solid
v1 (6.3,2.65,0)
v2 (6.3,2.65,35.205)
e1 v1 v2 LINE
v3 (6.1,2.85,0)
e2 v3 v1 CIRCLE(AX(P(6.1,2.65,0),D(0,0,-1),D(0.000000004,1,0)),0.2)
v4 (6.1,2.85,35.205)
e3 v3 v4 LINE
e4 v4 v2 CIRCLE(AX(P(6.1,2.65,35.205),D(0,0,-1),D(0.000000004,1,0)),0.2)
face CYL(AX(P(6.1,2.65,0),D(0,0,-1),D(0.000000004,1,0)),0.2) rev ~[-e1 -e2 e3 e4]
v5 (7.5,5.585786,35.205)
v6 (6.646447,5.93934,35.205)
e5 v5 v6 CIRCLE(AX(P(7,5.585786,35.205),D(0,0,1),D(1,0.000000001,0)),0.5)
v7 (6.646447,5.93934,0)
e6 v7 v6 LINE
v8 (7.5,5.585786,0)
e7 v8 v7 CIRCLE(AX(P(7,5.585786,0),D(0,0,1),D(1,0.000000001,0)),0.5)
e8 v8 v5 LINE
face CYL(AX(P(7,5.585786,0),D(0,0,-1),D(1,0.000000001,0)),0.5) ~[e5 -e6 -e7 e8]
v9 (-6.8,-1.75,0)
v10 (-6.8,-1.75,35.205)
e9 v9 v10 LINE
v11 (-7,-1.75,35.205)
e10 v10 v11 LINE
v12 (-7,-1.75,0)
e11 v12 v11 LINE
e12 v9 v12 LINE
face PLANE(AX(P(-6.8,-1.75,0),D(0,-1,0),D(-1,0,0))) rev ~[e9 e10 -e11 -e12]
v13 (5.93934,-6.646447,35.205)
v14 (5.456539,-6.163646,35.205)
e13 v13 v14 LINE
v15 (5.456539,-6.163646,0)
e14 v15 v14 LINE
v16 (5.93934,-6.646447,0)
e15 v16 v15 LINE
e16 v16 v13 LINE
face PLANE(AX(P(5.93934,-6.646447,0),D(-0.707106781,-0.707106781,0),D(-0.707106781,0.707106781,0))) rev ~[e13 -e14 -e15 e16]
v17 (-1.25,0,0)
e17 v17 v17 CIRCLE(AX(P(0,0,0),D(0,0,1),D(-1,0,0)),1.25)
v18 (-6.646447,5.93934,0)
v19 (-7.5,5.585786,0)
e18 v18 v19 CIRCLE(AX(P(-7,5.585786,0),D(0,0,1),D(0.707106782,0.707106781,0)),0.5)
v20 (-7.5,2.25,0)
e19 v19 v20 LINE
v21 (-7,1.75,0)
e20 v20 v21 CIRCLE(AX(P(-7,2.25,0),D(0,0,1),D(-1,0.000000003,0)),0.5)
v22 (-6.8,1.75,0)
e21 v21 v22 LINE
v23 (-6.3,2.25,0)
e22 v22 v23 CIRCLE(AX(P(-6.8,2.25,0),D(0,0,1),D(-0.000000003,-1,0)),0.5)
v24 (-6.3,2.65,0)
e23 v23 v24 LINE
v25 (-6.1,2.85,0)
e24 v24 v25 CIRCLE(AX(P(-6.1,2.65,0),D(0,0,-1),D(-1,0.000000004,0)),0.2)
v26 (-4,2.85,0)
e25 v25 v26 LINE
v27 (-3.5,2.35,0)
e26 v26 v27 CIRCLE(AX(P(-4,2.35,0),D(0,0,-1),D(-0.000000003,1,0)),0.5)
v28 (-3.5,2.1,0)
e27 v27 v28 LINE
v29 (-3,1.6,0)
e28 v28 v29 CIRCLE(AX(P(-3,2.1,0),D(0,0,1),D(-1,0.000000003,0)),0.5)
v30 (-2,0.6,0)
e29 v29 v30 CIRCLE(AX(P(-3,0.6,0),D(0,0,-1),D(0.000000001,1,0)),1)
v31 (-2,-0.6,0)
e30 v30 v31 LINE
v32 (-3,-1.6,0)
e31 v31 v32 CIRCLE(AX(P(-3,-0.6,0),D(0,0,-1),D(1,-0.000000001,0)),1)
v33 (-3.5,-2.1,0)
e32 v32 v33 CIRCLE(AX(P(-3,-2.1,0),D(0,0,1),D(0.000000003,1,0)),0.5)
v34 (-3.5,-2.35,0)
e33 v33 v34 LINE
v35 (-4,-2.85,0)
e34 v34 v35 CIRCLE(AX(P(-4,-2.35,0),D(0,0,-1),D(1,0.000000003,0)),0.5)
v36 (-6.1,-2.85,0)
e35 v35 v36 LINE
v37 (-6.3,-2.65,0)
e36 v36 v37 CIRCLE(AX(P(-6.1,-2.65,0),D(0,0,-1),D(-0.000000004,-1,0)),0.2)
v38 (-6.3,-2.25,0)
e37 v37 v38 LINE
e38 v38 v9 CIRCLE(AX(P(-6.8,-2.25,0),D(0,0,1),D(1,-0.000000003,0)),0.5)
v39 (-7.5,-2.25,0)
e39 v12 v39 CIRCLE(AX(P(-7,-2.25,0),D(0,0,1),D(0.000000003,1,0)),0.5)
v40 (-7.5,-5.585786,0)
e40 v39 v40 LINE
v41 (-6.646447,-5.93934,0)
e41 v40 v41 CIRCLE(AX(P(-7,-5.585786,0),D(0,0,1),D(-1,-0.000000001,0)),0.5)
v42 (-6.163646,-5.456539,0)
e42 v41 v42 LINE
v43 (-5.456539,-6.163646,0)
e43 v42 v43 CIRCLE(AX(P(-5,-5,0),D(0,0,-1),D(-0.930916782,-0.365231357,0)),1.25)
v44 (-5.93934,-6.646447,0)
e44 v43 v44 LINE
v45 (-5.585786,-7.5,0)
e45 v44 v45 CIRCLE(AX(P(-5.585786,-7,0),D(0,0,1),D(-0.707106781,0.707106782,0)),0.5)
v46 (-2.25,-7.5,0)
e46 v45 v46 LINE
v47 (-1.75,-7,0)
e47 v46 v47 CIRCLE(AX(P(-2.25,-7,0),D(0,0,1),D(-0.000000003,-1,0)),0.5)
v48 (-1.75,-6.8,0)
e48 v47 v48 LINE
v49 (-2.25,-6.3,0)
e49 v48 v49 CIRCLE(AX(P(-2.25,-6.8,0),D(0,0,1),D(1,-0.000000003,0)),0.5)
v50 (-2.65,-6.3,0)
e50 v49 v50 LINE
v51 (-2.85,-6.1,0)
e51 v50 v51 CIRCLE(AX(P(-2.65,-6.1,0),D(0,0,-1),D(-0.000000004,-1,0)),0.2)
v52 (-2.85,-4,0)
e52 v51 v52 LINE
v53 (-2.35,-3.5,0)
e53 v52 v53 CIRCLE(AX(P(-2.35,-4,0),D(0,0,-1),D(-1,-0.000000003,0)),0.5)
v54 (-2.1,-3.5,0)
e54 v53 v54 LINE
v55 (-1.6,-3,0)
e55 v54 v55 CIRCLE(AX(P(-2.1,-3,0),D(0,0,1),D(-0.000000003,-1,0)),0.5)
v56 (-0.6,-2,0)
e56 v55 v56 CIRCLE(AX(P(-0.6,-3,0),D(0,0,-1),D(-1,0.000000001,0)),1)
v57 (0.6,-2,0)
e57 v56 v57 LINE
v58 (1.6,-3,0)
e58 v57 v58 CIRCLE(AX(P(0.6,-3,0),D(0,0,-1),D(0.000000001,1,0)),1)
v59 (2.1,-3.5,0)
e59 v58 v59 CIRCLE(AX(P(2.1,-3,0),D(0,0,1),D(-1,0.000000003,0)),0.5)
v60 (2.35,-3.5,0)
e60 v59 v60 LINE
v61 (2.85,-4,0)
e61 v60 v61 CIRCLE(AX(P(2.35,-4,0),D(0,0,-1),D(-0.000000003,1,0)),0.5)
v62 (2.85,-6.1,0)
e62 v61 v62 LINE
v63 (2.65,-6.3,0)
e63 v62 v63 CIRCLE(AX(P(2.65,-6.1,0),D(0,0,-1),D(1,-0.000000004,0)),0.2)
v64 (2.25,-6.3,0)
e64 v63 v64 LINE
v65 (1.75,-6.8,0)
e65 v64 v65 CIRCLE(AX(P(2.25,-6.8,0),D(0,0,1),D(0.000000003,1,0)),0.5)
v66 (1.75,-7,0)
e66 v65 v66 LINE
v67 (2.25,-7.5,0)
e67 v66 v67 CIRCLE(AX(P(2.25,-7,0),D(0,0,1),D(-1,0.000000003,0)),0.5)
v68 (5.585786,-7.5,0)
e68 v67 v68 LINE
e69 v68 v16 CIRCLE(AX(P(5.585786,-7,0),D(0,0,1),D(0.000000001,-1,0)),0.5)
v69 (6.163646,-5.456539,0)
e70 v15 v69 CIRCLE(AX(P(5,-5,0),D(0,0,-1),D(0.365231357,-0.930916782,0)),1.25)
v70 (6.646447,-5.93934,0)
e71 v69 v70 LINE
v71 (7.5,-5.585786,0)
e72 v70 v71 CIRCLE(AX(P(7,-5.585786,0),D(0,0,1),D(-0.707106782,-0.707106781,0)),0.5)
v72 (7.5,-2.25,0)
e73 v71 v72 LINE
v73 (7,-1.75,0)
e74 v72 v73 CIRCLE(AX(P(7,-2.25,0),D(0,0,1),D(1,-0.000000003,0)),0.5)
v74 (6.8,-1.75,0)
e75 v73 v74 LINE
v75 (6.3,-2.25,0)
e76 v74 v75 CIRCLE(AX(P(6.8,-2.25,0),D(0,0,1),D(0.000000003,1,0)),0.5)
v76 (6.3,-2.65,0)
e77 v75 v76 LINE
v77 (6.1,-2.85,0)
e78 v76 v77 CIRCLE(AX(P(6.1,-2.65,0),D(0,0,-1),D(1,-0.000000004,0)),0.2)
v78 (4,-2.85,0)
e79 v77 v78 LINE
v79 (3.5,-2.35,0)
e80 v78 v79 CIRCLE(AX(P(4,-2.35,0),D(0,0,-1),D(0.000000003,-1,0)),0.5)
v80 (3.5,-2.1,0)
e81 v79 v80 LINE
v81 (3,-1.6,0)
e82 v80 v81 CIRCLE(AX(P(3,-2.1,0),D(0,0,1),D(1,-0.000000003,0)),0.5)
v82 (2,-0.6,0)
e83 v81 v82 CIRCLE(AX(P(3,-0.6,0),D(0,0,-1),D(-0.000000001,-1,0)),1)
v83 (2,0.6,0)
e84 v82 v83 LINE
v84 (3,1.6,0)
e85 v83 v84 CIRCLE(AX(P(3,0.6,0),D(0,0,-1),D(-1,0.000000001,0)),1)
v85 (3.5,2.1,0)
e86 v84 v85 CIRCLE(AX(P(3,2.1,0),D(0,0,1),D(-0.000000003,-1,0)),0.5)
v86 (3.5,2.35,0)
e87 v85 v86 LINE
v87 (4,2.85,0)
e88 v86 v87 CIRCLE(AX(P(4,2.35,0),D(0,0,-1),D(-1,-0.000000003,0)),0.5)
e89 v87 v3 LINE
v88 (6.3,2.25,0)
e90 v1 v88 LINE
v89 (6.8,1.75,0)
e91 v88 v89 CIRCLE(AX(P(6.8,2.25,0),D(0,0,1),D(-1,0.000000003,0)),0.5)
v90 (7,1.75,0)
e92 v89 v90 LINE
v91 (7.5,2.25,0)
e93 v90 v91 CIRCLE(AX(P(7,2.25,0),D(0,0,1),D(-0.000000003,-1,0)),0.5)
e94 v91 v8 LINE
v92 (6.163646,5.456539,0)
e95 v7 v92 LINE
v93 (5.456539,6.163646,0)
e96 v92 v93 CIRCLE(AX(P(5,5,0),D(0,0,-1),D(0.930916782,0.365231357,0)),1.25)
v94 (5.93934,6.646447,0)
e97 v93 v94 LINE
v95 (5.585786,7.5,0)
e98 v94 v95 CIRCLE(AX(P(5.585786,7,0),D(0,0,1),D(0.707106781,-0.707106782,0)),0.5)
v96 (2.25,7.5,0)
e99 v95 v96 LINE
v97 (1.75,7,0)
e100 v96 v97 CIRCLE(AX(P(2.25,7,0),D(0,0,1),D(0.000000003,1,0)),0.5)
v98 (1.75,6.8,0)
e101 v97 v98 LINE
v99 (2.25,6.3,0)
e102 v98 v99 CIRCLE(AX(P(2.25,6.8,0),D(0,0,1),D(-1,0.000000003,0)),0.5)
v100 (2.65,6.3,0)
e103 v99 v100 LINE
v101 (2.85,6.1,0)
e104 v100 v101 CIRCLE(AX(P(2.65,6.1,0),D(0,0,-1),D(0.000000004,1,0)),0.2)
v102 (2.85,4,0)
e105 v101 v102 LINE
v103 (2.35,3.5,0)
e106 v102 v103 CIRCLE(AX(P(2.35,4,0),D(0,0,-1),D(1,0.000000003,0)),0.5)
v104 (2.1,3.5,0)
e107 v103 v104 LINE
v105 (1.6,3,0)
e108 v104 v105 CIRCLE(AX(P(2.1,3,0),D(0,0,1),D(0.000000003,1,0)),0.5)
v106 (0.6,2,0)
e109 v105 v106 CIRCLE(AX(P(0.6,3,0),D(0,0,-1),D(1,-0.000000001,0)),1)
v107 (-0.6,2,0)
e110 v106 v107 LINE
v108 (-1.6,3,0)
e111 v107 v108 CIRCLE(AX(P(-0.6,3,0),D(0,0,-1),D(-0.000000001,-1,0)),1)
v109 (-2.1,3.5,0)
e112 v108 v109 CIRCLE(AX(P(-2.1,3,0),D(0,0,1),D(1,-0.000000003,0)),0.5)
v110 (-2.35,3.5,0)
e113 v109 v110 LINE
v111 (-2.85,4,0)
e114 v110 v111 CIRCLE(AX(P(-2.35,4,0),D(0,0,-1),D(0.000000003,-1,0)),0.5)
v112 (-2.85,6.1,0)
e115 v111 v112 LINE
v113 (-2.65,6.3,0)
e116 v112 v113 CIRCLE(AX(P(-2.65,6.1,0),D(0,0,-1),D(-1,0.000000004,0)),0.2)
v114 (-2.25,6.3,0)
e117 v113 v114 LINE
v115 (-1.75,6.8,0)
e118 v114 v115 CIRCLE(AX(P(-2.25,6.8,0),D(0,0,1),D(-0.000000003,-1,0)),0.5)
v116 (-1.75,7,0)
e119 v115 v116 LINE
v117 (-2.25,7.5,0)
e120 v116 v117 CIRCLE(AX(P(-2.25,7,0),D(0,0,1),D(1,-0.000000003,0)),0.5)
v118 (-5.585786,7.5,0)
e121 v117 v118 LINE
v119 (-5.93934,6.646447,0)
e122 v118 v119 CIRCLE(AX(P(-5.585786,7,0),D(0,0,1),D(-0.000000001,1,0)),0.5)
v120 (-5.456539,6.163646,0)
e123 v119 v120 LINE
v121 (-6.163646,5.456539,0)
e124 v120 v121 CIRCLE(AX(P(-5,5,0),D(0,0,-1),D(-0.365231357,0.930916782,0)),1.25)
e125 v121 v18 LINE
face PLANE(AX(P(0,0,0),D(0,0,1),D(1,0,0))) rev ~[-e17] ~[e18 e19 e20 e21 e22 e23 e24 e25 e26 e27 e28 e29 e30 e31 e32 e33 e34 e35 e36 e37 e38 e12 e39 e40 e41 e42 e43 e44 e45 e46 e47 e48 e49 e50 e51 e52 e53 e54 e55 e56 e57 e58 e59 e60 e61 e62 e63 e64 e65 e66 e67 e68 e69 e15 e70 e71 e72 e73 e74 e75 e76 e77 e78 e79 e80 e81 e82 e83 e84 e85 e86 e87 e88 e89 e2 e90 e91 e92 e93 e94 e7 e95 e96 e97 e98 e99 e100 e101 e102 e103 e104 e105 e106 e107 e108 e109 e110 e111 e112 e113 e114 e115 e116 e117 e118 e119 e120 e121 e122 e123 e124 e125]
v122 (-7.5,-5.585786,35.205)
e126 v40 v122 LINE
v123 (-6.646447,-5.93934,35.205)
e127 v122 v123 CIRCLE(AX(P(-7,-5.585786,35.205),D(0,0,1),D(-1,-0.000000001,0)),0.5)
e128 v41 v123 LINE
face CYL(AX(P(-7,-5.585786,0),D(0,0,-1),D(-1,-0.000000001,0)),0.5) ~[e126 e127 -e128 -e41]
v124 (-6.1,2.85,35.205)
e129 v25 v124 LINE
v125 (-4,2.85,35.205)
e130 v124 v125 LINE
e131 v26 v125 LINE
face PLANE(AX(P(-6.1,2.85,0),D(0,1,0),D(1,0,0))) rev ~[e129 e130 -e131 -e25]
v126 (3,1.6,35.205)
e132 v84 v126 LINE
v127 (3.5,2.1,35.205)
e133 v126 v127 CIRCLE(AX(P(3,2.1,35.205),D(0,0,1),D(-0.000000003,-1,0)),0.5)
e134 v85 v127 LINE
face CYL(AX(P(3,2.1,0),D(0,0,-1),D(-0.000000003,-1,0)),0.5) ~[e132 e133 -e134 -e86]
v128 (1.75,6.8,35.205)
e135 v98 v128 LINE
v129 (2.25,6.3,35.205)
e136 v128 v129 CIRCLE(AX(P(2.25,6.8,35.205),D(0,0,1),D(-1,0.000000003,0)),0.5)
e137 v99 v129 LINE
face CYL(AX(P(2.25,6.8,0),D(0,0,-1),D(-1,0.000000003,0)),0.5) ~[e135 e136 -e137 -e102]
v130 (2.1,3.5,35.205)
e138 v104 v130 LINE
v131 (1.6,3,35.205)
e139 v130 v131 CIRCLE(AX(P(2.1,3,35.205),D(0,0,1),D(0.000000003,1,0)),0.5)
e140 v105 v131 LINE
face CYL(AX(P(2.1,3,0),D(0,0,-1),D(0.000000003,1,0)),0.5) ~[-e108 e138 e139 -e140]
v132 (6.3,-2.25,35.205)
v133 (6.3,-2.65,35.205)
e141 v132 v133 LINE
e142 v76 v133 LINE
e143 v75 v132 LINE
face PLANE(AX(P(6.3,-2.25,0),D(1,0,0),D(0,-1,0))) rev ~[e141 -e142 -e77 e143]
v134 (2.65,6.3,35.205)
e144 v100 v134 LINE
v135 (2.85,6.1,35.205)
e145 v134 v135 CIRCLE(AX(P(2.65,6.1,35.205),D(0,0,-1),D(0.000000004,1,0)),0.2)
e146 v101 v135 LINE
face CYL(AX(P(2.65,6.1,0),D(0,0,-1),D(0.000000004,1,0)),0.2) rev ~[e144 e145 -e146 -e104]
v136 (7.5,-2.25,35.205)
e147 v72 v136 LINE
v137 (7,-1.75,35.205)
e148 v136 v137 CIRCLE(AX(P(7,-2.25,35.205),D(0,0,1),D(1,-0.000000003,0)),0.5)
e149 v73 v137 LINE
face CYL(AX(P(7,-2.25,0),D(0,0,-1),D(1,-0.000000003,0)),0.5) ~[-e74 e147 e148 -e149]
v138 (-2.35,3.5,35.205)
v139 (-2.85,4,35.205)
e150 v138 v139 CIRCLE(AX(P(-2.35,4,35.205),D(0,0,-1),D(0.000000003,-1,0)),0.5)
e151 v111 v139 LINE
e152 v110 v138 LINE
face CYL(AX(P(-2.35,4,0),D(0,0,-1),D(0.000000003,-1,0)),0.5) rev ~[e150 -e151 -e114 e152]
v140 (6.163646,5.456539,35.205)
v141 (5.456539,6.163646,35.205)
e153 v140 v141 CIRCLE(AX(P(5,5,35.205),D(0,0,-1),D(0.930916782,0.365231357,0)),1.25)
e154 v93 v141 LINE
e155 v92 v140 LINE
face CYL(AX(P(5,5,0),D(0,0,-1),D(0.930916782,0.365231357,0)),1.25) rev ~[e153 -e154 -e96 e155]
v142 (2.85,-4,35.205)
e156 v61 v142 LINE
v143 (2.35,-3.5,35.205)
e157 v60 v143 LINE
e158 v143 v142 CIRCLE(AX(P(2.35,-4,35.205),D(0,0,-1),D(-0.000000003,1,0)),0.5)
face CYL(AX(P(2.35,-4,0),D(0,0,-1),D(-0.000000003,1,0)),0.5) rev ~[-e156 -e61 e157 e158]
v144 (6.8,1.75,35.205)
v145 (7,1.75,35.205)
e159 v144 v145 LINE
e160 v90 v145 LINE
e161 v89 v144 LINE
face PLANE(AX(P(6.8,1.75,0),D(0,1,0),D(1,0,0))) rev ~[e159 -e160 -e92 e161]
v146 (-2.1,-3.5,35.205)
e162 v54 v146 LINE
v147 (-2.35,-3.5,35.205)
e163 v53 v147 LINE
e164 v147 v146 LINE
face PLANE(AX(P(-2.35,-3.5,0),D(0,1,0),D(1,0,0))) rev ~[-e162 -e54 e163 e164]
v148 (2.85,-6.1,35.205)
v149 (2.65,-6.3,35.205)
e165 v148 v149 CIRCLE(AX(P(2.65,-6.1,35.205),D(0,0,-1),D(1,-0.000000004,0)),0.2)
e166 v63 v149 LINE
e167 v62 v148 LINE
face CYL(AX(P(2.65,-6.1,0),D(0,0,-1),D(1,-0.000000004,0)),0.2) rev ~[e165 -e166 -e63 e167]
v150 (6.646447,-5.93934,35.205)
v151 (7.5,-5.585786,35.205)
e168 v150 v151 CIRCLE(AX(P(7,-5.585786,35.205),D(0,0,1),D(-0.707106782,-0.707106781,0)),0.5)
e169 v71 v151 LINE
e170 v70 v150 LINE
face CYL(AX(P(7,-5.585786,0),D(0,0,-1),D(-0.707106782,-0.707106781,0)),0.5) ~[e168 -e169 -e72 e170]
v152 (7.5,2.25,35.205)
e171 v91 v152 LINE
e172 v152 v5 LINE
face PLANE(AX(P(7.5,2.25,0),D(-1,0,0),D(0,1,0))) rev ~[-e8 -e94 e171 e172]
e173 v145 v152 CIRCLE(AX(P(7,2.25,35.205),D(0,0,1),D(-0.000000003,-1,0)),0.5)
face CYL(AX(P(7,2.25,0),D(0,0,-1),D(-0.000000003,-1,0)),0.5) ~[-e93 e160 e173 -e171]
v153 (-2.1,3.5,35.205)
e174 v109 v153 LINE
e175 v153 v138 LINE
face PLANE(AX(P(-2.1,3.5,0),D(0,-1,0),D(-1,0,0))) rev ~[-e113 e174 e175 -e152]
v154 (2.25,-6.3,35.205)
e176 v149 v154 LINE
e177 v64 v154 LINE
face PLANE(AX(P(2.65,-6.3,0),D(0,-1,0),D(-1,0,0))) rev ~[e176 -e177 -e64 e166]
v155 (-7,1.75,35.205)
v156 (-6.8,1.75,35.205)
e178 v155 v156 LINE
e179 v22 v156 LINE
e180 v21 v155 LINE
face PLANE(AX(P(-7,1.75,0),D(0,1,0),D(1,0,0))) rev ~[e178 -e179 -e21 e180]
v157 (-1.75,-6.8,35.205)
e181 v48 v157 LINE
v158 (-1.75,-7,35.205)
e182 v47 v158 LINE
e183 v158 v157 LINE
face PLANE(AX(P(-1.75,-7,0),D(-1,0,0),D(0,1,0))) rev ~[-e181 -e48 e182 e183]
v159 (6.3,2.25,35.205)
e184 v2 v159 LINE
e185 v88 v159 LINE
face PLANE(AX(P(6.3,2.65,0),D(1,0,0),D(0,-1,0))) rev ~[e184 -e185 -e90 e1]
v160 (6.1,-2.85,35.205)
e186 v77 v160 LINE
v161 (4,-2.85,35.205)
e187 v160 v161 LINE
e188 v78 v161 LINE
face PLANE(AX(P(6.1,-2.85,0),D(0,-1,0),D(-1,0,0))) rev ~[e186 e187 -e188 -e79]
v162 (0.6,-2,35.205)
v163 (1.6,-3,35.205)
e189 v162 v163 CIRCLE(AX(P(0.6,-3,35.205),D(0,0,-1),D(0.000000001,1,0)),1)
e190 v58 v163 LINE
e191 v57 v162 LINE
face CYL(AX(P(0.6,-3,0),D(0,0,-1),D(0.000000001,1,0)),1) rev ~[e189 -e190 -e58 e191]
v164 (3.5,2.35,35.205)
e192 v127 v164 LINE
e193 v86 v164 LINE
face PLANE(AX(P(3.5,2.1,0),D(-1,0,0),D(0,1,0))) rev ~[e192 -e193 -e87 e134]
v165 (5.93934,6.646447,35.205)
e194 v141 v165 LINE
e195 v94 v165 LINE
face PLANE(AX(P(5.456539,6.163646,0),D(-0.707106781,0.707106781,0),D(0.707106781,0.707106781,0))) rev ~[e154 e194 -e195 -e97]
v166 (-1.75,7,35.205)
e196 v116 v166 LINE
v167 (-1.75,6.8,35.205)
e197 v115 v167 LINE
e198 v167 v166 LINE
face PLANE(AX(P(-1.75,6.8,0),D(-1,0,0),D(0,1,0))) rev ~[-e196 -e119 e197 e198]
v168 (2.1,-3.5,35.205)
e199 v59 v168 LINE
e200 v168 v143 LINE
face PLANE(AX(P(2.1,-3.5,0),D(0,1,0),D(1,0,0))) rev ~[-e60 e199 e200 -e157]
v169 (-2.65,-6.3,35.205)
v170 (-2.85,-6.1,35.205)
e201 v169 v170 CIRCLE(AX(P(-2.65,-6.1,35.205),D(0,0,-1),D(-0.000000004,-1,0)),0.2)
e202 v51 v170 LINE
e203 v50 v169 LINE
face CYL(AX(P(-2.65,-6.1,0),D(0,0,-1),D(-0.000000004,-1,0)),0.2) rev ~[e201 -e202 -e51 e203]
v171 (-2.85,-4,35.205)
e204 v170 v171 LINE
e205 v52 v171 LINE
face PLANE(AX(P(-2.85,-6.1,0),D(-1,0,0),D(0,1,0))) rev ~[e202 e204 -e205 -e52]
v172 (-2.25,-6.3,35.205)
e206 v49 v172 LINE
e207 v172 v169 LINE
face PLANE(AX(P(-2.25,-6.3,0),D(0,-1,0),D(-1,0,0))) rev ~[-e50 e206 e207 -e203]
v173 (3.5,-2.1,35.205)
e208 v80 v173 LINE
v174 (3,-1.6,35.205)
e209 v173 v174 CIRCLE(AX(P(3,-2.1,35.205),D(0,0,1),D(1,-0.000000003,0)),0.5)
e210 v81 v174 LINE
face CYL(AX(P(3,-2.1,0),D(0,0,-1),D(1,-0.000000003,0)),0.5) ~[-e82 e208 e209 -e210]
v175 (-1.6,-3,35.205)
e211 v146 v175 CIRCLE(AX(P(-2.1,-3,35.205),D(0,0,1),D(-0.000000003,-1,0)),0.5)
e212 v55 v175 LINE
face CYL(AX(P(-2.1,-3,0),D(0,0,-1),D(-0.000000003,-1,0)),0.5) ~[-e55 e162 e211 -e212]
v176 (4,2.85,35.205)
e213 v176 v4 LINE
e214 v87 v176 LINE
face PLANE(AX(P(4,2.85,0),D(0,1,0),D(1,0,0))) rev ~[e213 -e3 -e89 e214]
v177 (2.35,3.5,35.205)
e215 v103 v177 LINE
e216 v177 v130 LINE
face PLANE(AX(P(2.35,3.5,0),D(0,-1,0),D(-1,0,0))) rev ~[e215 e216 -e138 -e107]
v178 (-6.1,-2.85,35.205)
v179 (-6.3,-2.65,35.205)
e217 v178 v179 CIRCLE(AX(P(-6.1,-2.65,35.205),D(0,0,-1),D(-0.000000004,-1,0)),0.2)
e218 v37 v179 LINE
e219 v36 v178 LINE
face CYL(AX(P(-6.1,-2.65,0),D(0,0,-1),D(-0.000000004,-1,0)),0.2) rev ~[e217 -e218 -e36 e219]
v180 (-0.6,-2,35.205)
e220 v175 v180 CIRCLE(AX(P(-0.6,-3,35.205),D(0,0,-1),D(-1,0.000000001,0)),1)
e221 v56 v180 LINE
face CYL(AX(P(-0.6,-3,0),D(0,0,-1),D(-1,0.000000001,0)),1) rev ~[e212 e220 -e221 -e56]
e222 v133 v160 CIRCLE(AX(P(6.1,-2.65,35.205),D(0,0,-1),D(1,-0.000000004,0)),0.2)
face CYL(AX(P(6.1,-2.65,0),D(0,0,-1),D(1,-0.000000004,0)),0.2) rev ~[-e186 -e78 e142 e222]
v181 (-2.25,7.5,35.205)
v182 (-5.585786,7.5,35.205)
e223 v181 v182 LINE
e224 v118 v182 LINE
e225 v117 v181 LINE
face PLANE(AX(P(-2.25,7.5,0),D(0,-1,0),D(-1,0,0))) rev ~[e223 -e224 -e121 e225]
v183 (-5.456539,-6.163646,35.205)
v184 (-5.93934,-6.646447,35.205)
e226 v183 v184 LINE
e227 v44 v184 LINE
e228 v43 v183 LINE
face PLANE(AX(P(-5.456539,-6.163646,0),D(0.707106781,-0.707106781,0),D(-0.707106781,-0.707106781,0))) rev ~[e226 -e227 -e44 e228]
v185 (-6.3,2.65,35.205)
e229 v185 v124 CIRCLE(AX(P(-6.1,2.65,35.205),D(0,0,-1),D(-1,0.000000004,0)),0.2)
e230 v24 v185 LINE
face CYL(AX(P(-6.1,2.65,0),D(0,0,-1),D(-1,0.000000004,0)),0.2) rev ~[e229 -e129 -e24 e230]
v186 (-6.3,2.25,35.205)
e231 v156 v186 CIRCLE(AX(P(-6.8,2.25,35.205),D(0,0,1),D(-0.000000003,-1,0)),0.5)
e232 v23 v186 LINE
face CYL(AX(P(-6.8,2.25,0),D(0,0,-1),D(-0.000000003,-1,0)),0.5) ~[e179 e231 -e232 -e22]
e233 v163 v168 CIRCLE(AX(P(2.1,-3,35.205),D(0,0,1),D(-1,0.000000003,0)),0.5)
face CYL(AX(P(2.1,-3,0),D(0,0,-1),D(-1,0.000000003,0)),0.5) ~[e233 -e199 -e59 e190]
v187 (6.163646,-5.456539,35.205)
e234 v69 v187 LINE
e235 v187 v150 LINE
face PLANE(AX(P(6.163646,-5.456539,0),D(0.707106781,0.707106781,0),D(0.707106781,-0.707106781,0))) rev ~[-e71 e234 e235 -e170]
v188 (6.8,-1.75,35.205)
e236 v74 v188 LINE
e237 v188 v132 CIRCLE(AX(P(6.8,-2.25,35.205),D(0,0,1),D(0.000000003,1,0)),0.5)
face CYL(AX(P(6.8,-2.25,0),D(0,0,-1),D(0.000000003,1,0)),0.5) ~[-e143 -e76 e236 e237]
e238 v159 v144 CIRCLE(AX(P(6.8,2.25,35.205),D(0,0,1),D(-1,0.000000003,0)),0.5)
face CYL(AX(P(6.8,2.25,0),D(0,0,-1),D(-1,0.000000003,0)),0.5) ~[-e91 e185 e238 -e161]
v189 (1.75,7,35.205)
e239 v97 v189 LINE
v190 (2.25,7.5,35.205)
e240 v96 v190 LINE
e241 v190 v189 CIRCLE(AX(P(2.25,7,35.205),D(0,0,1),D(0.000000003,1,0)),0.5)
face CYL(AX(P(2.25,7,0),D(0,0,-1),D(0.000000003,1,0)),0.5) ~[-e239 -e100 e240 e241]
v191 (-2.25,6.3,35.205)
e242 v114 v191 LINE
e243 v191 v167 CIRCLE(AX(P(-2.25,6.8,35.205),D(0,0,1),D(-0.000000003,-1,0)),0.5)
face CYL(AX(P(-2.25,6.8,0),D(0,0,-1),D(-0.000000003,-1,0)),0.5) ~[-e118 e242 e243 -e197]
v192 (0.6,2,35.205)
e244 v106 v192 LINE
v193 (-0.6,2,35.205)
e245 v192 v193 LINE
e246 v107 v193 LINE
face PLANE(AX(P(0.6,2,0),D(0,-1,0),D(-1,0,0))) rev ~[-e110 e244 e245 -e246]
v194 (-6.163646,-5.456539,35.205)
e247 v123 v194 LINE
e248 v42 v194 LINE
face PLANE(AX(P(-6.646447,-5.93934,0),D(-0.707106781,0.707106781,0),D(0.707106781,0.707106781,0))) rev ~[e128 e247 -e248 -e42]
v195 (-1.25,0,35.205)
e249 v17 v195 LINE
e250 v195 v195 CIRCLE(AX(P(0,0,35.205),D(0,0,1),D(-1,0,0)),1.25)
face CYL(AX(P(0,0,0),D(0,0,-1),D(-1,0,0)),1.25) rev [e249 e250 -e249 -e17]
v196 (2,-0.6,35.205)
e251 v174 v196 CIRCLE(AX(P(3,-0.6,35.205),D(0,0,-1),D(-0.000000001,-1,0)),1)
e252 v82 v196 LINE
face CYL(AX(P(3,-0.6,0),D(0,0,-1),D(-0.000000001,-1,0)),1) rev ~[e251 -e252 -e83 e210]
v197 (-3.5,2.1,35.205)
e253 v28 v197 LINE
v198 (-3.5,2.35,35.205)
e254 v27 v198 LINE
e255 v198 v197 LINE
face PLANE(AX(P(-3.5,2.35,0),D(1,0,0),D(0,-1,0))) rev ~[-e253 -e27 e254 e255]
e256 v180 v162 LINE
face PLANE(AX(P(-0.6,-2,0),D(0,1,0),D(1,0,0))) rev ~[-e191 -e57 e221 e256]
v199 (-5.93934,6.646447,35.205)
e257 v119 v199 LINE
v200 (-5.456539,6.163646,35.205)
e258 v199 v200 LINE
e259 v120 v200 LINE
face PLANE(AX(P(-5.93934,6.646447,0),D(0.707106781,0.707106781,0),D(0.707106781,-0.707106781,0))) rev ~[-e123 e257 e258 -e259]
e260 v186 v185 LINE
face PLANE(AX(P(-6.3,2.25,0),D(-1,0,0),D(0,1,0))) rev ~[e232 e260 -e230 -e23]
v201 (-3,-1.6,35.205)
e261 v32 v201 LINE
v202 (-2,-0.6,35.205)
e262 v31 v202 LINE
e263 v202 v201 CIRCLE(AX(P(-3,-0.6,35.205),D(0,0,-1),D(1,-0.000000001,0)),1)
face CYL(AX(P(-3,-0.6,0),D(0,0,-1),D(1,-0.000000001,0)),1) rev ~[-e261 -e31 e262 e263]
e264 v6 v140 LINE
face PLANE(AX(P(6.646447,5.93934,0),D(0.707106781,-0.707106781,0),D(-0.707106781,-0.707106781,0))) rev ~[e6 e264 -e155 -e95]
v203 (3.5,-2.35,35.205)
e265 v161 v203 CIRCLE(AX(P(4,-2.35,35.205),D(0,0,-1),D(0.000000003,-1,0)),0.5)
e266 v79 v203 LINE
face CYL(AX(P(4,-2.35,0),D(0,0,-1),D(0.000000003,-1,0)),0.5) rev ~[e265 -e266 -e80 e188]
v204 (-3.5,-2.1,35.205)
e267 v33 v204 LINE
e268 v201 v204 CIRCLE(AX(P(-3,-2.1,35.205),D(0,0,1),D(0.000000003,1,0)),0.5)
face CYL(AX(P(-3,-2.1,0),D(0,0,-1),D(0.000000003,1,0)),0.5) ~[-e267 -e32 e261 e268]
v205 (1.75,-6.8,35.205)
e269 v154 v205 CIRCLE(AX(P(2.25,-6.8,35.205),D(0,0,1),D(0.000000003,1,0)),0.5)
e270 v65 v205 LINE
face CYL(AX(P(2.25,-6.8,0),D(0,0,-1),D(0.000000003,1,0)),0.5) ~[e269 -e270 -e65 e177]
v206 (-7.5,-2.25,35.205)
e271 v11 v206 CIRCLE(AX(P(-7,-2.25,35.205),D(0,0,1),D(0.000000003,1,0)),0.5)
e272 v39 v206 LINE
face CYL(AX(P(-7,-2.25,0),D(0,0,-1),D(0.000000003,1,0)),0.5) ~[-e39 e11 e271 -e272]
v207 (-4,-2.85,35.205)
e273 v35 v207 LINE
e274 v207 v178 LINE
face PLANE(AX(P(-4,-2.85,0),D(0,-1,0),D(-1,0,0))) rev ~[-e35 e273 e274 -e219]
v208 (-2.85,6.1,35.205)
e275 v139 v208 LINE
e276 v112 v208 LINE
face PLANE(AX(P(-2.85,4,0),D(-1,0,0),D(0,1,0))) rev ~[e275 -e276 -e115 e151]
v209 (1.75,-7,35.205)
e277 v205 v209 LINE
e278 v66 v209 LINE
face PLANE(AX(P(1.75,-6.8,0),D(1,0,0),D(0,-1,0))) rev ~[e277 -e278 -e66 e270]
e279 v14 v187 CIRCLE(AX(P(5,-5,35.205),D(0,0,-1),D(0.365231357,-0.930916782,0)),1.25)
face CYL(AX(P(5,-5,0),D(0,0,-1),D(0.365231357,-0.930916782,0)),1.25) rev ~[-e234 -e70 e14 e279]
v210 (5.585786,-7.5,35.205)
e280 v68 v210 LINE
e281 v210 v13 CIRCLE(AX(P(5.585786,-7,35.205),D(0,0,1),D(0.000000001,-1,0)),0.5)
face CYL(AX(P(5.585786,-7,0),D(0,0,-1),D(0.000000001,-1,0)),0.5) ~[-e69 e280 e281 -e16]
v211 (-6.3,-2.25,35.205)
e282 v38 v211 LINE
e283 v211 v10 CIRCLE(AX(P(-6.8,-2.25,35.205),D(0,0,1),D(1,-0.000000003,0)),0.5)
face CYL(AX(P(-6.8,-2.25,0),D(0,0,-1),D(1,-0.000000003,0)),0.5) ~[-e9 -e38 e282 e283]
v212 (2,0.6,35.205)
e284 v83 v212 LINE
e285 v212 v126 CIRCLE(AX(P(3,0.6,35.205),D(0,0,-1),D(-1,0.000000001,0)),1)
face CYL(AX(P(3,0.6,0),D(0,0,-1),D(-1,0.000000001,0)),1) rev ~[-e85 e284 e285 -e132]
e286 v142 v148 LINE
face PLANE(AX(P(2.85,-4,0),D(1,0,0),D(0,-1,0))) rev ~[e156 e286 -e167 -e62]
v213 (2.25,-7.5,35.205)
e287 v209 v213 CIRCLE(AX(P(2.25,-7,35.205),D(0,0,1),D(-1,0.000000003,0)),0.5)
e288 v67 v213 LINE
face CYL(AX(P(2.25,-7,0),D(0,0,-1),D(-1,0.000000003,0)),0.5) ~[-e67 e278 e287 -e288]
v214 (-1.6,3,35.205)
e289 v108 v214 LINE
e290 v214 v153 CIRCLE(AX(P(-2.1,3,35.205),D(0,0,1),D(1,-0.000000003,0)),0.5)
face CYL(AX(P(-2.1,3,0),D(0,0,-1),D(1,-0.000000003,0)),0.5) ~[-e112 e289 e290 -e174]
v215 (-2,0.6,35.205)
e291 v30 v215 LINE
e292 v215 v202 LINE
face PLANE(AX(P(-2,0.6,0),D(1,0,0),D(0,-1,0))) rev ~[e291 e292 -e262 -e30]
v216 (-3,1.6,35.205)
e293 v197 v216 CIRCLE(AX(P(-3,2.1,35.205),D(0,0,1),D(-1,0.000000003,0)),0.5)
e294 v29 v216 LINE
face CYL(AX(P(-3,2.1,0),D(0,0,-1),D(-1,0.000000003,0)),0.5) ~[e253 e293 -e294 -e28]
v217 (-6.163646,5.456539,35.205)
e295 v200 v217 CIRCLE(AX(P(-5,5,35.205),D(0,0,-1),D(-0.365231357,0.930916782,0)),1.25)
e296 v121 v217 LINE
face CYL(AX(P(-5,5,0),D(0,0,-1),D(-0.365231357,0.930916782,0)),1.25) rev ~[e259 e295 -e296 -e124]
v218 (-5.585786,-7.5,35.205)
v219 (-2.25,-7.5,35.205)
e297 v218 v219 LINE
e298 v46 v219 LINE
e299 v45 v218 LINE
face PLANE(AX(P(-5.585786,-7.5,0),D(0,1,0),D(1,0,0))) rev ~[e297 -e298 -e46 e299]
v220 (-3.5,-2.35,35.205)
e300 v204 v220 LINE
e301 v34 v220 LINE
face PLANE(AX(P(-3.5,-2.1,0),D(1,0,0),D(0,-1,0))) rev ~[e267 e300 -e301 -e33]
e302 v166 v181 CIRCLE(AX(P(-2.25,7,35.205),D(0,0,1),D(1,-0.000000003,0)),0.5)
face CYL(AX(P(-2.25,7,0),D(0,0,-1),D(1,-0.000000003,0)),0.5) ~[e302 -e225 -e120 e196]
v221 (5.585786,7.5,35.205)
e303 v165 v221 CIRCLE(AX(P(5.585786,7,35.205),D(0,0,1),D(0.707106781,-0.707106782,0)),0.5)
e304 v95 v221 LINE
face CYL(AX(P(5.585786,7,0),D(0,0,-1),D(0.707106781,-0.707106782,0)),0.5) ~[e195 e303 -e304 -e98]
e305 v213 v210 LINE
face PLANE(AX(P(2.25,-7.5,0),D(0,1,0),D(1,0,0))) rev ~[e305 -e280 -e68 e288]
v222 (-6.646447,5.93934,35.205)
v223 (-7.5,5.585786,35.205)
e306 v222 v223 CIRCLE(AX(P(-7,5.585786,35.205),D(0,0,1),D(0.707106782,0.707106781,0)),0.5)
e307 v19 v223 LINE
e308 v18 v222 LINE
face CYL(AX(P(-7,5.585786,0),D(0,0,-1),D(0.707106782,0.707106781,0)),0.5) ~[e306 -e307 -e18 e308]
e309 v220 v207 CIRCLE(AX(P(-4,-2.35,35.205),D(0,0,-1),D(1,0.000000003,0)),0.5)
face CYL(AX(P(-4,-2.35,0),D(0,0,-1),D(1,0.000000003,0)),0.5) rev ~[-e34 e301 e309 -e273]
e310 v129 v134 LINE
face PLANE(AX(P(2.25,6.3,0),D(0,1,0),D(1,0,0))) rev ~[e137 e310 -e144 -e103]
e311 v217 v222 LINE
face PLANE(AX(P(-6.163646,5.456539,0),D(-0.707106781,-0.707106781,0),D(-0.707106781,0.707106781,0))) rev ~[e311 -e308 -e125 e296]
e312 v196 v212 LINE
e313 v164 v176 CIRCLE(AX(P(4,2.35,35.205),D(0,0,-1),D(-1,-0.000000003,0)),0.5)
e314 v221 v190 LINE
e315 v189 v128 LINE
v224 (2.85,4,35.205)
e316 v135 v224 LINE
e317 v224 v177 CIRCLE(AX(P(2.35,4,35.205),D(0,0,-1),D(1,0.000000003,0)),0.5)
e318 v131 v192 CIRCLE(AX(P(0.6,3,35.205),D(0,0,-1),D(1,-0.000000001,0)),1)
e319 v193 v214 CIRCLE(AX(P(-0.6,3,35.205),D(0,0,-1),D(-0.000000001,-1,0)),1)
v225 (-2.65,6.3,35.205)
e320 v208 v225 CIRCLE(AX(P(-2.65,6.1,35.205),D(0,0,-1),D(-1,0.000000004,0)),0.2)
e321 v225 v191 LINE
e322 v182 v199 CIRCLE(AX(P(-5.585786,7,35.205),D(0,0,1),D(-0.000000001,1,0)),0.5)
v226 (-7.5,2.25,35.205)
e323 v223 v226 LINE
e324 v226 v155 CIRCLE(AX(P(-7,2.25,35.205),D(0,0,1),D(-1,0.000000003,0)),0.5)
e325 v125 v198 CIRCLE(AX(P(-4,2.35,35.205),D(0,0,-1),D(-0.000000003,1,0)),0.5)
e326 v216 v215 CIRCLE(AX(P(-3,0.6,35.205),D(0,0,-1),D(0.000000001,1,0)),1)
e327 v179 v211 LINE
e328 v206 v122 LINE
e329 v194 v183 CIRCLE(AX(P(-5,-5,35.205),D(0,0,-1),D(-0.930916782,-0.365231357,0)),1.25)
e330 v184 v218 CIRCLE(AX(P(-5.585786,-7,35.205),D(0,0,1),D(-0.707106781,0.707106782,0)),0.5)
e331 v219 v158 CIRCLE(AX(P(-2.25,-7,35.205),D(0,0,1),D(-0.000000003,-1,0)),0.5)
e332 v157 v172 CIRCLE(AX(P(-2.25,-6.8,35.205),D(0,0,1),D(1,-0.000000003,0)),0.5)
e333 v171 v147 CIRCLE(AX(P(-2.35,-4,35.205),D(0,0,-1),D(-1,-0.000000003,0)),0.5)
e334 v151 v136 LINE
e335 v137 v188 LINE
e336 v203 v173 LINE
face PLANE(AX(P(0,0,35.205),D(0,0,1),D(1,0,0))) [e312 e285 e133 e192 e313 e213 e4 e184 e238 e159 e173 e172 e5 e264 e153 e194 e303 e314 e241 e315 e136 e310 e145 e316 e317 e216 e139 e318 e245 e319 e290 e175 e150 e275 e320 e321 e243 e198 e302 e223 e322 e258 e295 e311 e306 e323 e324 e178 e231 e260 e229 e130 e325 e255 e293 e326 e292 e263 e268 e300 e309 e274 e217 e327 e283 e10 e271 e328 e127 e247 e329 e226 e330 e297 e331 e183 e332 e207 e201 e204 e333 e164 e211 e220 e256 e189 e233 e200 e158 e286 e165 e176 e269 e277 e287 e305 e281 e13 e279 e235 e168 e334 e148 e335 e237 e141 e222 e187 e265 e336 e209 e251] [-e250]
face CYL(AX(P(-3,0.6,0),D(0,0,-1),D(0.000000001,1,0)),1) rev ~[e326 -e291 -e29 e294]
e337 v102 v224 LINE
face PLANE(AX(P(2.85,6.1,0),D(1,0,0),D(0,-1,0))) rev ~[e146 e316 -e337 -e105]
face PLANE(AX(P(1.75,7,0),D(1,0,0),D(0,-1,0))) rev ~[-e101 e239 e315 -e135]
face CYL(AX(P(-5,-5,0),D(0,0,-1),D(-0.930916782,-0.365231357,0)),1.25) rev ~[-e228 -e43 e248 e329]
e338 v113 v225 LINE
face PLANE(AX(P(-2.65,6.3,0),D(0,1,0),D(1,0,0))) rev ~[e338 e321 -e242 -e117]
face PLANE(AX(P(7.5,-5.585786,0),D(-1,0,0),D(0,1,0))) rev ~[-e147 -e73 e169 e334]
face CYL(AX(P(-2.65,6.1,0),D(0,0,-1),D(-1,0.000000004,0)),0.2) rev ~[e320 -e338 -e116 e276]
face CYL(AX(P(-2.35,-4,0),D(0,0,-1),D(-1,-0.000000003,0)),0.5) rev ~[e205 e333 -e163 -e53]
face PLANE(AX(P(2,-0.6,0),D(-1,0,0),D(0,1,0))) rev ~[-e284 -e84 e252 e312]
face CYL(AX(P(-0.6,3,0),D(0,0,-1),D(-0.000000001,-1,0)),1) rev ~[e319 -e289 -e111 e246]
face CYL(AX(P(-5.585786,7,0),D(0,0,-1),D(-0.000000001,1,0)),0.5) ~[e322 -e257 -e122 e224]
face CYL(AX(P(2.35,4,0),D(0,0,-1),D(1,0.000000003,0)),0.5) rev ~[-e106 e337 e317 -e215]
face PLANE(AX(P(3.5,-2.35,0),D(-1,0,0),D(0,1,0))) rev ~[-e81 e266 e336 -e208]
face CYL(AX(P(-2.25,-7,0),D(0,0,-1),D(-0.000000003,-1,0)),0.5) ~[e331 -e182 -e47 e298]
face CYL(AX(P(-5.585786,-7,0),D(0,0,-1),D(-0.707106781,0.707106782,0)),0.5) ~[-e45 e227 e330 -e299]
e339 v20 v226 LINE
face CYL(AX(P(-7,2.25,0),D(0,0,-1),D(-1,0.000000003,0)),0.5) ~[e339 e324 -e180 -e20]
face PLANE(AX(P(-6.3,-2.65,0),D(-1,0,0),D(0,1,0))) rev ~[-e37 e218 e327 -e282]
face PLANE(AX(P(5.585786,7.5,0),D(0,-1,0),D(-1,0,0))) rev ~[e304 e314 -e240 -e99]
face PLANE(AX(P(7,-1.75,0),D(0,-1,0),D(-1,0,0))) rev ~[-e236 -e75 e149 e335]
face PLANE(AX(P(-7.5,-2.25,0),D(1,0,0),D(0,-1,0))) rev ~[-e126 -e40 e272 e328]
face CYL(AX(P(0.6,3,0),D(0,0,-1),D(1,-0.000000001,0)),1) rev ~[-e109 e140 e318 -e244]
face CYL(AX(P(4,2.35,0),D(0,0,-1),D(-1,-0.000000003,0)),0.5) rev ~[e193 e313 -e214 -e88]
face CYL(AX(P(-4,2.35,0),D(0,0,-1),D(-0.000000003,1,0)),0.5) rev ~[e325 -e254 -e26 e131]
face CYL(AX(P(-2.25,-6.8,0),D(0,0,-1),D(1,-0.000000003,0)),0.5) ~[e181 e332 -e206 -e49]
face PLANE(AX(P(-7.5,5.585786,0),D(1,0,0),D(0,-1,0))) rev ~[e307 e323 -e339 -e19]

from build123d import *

# Parameters (mm, degrees)
SKETCH1_R           = 1.25
BOSS_EXTRUDE1_DEPTH = 35.204999976


with BuildPart() as part:
    # Sketch1 → Boss-Extrude1 (new body)
    with BuildSketch(Plane.XY):
        with BuildLine():
            Line((6.646446609, 5.939339828), (6.163645978, 5.456539197))
            ThreePointArc((6.163645978, 5.456539197), (4.116116524, 4.116116524), (5.456539197, 6.163645978))
            Line((5.456539197, 6.163645978), (5.939339828, 6.646446609))
            ThreePointArc((5.939339828, 6.646446609), (6.047726204, 7.191341716), (5.585786438, 7.5))
            Line((5.585786438, 7.5), (2.25, 7.5))
            ThreePointArc((2.25, 7.5), (1.896446609, 7.353553391), (1.75, 7))
            Line((1.75, 7), (1.75, 6.8))
            ThreePointArc((1.75, 6.8), (1.896446609, 6.446446609), (2.25, 6.3))
            Line((2.25, 6.3), (2.65, 6.3))
            ThreePointArc((2.65, 6.3), (2.791421356, 6.241421356), (2.85, 6.1))
            Line((2.85, 6.1), (2.85, 4))
            ThreePointArc((2.85, 4), (2.703553391, 3.646446609), (2.35, 3.5))
            Line((2.35, 3.5), (2.1, 3.5))
            ThreePointArc((2.1, 3.5), (1.746446609, 3.353553391), (1.6, 3))
            ThreePointArc((1.6, 3), (1.307106781, 2.292893219), (0.6, 2))
            Line((0.6, 2), (-0.6, 2))
            ThreePointArc((-0.6, 2), (-1.307106781, 2.292893219), (-1.6, 3))
            ThreePointArc((-1.6, 3), (-1.746446609, 3.353553391), (-2.1, 3.5))
            Line((-2.1, 3.5), (-2.35, 3.5))
            ThreePointArc((-2.35, 3.5), (-2.703553391, 3.646446609), (-2.85, 4))
            Line((-2.85, 4), (-2.85, 6.1))
            ThreePointArc((-2.85, 6.1), (-2.791421356, 6.241421356), (-2.65, 6.3))
            Line((-2.65, 6.3), (-2.25, 6.3))
            ThreePointArc((-2.25, 6.3), (-1.896446609, 6.446446609), (-1.75, 6.8))
            Line((-1.75, 6.8), (-1.75, 7))
            ThreePointArc((-1.75, 7), (-1.896446609, 7.353553391), (-2.25, 7.5))
            Line((-2.25, 7.5), (-5.585786438, 7.5))
            ThreePointArc((-5.585786438, 7.5), (-6.047726204, 7.191341716), (-5.939339828, 6.646446609))
            Line((-5.939339828, 6.646446609), (-5.456539197, 6.163645978))
            ThreePointArc((-5.456539197, 6.163645978), (-4.116116524, 4.116116524), (-6.163645978, 5.456539197))
            Line((-6.163645978, 5.456539197), (-6.646446609, 5.939339828))
            ThreePointArc((-6.646446609, 5.939339828), (-7.191341716, 6.047726204), (-7.5, 5.585786438))
            Line((-7.5, 5.585786438), (-7.5, 2.25))
            ThreePointArc((-7.5, 2.25), (-7.353553391, 1.896446609), (-7, 1.75))
            Line((-7, 1.75), (-6.8, 1.75))
            ThreePointArc((-6.8, 1.75), (-6.446446609, 1.896446609), (-6.3, 2.25))
            Line((-6.3, 2.25), (-6.3, 2.65))
            ThreePointArc((-6.3, 2.65), (-6.241421356, 2.791421356), (-6.1, 2.85))
            Line((-6.1, 2.85), (-4, 2.85))
            ThreePointArc((-4, 2.85), (-3.646446609, 2.703553391), (-3.5, 2.35))
            Line((-3.5, 2.35), (-3.5, 2.1))
            ThreePointArc((-3.5, 2.1), (-3.353553391, 1.746446609), (-3, 1.6))
            ThreePointArc((-3, 1.6), (-2.292893219, 1.307106781), (-2, 0.6))
            Line((-2, 0.6), (-2, -0.6))
            ThreePointArc((-2, -0.6), (-2.292893219, -1.307106781), (-3, -1.6))
            ThreePointArc((-3, -1.6), (-3.353553391, -1.746446609), (-3.5, -2.1))
            Line((-3.5, -2.1), (-3.5, -2.35))
            ThreePointArc((-3.5, -2.35), (-3.646446609, -2.703553391), (-4, -2.85))
            Line((-4, -2.85), (-6.1, -2.85))
            ThreePointArc((-6.1, -2.85), (-6.241421356, -2.791421356), (-6.3, -2.65))
            Line((-6.3, -2.65), (-6.3, -2.25))
            ThreePointArc((-6.3, -2.25), (-6.446446609, -1.896446609), (-6.8, -1.75))
            Line((-6.8, -1.75), (-7, -1.75))
            ThreePointArc((-7, -1.75), (-7.353553391, -1.896446609), (-7.5, -2.25))
            Line((-7.5, -2.25), (-7.5, -5.585786438))
            ThreePointArc((-7.5, -5.585786438), (-7.191341716, -6.047726204), (-6.646446609, -5.939339828))
            Line((-6.646446609, -5.939339828), (-6.163645978, -5.456539197))
            ThreePointArc((-6.163645978, -5.456539197), (-4.116116524, -4.116116524), (-5.456539197, -6.163645978))
            Line((-5.456539197, -6.163645978), (-5.939339828, -6.646446609))
            ThreePointArc((-5.939339828, -6.646446609), (-6.047726204, -7.191341716), (-5.585786438, -7.5))
            Line((-5.585786438, -7.5), (-2.25, -7.5))
            ThreePointArc((-2.25, -7.5), (-1.896446609, -7.353553391), (-1.75, -7))
            Line((-1.75, -7), (-1.75, -6.8))
            ThreePointArc((-1.75, -6.8), (-1.896446609, -6.446446609), (-2.25, -6.3))
            Line((-2.25, -6.3), (-2.65, -6.3))
            ThreePointArc((-2.65, -6.3), (-2.791421356, -6.241421356), (-2.85, -6.1))
            Line((-2.85, -6.1), (-2.85, -4))
            ThreePointArc((-2.85, -4), (-2.703553391, -3.646446609), (-2.35, -3.5))
            Line((-2.35, -3.5), (-2.1, -3.5))
            ThreePointArc((-2.1, -3.5), (-1.746446609, -3.353553391), (-1.6, -3))
            ThreePointArc((-1.6, -3), (-1.307106781, -2.292893219), (-0.6, -2))
            Line((-0.6, -2), (0.6, -2))
            ThreePointArc((0.6, -2), (1.307106781, -2.292893219), (1.6, -3))
            ThreePointArc((1.6, -3), (1.746446609, -3.353553391), (2.1, -3.5))
            Line((2.1, -3.5), (2.35, -3.5))
            ThreePointArc((2.35, -3.5), (2.703553391, -3.646446609), (2.85, -4))
            Line((2.85, -4), (2.85, -6.1))
            ThreePointArc((2.85, -6.1), (2.791421356, -6.241421356), (2.65, -6.3))
            Line((2.65, -6.3), (2.25, -6.3))
            ThreePointArc((2.25, -6.3), (1.896446609, -6.446446609), (1.75, -6.8))
            Line((1.75, -6.8), (1.75, -7))
            ThreePointArc((1.75, -7), (1.896446609, -7.353553391), (2.25, -7.5))
            Line((2.25, -7.5), (5.585786438, -7.5))
            ThreePointArc((5.585786438, -7.5), (6.047726204, -7.191341716), (5.939339828, -6.646446609))
            Line((5.939339828, -6.646446609), (5.456539197, -6.163645978))
            ThreePointArc((5.456539197, -6.163645978), (4.116116524, -4.116116524), (6.163645978, -5.456539197))
            Line((6.163645978, -5.456539197), (6.646446609, -5.939339828))
            ThreePointArc((6.646446609, -5.939339828), (7.191341716, -6.047726204), (7.5, -5.585786438))
            Line((7.5, -5.585786438), (7.5, -2.25))
            ThreePointArc((7.5, -2.25), (7.353553391, -1.896446609), (7, -1.75))
            Line((7, -1.75), (6.8, -1.75))
            ThreePointArc((6.8, -1.75), (6.446446609, -1.896446609), (6.3, -2.25))
            Line((6.3, -2.25), (6.3, -2.65))
            ThreePointArc((6.3, -2.65), (6.241421356, -2.791421356), (6.1, -2.85))
            Line((6.1, -2.85), (4, -2.85))
            ThreePointArc((4, -2.85), (3.646446609, -2.703553391), (3.5, -2.35))
            Line((3.5, -2.35), (3.5, -2.1))
            ThreePointArc((3.5, -2.1), (3.353553391, -1.746446609), (3, -1.6))
            ThreePointArc((3, -1.6), (2.292893219, -1.307106781), (2, -0.6))
            Line((2, -0.6), (2, 0.6))
            ThreePointArc((2, 0.6), (2.292893219, 1.307106781), (3, 1.6))
            ThreePointArc((3, 1.6), (3.353553391, 1.746446609), (3.5, 2.1))
            Line((3.5, 2.1), (3.5, 2.35))
            ThreePointArc((3.5, 2.35), (3.646446609, 2.703553391), (4, 2.85))
            Line((4, 2.85), (6.1, 2.85))
            ThreePointArc((6.1, 2.85), (6.241421356, 2.791421356), (6.3, 2.65))
            Line((6.3, 2.65), (6.3, 2.25))
            ThreePointArc((6.3, 2.25), (6.446446609, 1.896446609), (6.8, 1.75))
            Line((6.8, 1.75), (7, 1.75))
            ThreePointArc((7, 1.75), (7.353553391, 1.896446609), (7.5, 2.25))
            Line((7.5, 2.25), (7.5, 5.585786438))
            ThreePointArc((7.5, 5.585786438), (7.191341716, 6.047726204), (6.646446609, 5.939339828))
        make_face()
        with Locations(Location((0, 0, 0), (0, 0, 180))):
            Circle(SKETCH1_R, mode=Mode.SUBTRACT)
    extrude(amount=BOSS_EXTRUDE1_DEPTH)


solid = part.part
